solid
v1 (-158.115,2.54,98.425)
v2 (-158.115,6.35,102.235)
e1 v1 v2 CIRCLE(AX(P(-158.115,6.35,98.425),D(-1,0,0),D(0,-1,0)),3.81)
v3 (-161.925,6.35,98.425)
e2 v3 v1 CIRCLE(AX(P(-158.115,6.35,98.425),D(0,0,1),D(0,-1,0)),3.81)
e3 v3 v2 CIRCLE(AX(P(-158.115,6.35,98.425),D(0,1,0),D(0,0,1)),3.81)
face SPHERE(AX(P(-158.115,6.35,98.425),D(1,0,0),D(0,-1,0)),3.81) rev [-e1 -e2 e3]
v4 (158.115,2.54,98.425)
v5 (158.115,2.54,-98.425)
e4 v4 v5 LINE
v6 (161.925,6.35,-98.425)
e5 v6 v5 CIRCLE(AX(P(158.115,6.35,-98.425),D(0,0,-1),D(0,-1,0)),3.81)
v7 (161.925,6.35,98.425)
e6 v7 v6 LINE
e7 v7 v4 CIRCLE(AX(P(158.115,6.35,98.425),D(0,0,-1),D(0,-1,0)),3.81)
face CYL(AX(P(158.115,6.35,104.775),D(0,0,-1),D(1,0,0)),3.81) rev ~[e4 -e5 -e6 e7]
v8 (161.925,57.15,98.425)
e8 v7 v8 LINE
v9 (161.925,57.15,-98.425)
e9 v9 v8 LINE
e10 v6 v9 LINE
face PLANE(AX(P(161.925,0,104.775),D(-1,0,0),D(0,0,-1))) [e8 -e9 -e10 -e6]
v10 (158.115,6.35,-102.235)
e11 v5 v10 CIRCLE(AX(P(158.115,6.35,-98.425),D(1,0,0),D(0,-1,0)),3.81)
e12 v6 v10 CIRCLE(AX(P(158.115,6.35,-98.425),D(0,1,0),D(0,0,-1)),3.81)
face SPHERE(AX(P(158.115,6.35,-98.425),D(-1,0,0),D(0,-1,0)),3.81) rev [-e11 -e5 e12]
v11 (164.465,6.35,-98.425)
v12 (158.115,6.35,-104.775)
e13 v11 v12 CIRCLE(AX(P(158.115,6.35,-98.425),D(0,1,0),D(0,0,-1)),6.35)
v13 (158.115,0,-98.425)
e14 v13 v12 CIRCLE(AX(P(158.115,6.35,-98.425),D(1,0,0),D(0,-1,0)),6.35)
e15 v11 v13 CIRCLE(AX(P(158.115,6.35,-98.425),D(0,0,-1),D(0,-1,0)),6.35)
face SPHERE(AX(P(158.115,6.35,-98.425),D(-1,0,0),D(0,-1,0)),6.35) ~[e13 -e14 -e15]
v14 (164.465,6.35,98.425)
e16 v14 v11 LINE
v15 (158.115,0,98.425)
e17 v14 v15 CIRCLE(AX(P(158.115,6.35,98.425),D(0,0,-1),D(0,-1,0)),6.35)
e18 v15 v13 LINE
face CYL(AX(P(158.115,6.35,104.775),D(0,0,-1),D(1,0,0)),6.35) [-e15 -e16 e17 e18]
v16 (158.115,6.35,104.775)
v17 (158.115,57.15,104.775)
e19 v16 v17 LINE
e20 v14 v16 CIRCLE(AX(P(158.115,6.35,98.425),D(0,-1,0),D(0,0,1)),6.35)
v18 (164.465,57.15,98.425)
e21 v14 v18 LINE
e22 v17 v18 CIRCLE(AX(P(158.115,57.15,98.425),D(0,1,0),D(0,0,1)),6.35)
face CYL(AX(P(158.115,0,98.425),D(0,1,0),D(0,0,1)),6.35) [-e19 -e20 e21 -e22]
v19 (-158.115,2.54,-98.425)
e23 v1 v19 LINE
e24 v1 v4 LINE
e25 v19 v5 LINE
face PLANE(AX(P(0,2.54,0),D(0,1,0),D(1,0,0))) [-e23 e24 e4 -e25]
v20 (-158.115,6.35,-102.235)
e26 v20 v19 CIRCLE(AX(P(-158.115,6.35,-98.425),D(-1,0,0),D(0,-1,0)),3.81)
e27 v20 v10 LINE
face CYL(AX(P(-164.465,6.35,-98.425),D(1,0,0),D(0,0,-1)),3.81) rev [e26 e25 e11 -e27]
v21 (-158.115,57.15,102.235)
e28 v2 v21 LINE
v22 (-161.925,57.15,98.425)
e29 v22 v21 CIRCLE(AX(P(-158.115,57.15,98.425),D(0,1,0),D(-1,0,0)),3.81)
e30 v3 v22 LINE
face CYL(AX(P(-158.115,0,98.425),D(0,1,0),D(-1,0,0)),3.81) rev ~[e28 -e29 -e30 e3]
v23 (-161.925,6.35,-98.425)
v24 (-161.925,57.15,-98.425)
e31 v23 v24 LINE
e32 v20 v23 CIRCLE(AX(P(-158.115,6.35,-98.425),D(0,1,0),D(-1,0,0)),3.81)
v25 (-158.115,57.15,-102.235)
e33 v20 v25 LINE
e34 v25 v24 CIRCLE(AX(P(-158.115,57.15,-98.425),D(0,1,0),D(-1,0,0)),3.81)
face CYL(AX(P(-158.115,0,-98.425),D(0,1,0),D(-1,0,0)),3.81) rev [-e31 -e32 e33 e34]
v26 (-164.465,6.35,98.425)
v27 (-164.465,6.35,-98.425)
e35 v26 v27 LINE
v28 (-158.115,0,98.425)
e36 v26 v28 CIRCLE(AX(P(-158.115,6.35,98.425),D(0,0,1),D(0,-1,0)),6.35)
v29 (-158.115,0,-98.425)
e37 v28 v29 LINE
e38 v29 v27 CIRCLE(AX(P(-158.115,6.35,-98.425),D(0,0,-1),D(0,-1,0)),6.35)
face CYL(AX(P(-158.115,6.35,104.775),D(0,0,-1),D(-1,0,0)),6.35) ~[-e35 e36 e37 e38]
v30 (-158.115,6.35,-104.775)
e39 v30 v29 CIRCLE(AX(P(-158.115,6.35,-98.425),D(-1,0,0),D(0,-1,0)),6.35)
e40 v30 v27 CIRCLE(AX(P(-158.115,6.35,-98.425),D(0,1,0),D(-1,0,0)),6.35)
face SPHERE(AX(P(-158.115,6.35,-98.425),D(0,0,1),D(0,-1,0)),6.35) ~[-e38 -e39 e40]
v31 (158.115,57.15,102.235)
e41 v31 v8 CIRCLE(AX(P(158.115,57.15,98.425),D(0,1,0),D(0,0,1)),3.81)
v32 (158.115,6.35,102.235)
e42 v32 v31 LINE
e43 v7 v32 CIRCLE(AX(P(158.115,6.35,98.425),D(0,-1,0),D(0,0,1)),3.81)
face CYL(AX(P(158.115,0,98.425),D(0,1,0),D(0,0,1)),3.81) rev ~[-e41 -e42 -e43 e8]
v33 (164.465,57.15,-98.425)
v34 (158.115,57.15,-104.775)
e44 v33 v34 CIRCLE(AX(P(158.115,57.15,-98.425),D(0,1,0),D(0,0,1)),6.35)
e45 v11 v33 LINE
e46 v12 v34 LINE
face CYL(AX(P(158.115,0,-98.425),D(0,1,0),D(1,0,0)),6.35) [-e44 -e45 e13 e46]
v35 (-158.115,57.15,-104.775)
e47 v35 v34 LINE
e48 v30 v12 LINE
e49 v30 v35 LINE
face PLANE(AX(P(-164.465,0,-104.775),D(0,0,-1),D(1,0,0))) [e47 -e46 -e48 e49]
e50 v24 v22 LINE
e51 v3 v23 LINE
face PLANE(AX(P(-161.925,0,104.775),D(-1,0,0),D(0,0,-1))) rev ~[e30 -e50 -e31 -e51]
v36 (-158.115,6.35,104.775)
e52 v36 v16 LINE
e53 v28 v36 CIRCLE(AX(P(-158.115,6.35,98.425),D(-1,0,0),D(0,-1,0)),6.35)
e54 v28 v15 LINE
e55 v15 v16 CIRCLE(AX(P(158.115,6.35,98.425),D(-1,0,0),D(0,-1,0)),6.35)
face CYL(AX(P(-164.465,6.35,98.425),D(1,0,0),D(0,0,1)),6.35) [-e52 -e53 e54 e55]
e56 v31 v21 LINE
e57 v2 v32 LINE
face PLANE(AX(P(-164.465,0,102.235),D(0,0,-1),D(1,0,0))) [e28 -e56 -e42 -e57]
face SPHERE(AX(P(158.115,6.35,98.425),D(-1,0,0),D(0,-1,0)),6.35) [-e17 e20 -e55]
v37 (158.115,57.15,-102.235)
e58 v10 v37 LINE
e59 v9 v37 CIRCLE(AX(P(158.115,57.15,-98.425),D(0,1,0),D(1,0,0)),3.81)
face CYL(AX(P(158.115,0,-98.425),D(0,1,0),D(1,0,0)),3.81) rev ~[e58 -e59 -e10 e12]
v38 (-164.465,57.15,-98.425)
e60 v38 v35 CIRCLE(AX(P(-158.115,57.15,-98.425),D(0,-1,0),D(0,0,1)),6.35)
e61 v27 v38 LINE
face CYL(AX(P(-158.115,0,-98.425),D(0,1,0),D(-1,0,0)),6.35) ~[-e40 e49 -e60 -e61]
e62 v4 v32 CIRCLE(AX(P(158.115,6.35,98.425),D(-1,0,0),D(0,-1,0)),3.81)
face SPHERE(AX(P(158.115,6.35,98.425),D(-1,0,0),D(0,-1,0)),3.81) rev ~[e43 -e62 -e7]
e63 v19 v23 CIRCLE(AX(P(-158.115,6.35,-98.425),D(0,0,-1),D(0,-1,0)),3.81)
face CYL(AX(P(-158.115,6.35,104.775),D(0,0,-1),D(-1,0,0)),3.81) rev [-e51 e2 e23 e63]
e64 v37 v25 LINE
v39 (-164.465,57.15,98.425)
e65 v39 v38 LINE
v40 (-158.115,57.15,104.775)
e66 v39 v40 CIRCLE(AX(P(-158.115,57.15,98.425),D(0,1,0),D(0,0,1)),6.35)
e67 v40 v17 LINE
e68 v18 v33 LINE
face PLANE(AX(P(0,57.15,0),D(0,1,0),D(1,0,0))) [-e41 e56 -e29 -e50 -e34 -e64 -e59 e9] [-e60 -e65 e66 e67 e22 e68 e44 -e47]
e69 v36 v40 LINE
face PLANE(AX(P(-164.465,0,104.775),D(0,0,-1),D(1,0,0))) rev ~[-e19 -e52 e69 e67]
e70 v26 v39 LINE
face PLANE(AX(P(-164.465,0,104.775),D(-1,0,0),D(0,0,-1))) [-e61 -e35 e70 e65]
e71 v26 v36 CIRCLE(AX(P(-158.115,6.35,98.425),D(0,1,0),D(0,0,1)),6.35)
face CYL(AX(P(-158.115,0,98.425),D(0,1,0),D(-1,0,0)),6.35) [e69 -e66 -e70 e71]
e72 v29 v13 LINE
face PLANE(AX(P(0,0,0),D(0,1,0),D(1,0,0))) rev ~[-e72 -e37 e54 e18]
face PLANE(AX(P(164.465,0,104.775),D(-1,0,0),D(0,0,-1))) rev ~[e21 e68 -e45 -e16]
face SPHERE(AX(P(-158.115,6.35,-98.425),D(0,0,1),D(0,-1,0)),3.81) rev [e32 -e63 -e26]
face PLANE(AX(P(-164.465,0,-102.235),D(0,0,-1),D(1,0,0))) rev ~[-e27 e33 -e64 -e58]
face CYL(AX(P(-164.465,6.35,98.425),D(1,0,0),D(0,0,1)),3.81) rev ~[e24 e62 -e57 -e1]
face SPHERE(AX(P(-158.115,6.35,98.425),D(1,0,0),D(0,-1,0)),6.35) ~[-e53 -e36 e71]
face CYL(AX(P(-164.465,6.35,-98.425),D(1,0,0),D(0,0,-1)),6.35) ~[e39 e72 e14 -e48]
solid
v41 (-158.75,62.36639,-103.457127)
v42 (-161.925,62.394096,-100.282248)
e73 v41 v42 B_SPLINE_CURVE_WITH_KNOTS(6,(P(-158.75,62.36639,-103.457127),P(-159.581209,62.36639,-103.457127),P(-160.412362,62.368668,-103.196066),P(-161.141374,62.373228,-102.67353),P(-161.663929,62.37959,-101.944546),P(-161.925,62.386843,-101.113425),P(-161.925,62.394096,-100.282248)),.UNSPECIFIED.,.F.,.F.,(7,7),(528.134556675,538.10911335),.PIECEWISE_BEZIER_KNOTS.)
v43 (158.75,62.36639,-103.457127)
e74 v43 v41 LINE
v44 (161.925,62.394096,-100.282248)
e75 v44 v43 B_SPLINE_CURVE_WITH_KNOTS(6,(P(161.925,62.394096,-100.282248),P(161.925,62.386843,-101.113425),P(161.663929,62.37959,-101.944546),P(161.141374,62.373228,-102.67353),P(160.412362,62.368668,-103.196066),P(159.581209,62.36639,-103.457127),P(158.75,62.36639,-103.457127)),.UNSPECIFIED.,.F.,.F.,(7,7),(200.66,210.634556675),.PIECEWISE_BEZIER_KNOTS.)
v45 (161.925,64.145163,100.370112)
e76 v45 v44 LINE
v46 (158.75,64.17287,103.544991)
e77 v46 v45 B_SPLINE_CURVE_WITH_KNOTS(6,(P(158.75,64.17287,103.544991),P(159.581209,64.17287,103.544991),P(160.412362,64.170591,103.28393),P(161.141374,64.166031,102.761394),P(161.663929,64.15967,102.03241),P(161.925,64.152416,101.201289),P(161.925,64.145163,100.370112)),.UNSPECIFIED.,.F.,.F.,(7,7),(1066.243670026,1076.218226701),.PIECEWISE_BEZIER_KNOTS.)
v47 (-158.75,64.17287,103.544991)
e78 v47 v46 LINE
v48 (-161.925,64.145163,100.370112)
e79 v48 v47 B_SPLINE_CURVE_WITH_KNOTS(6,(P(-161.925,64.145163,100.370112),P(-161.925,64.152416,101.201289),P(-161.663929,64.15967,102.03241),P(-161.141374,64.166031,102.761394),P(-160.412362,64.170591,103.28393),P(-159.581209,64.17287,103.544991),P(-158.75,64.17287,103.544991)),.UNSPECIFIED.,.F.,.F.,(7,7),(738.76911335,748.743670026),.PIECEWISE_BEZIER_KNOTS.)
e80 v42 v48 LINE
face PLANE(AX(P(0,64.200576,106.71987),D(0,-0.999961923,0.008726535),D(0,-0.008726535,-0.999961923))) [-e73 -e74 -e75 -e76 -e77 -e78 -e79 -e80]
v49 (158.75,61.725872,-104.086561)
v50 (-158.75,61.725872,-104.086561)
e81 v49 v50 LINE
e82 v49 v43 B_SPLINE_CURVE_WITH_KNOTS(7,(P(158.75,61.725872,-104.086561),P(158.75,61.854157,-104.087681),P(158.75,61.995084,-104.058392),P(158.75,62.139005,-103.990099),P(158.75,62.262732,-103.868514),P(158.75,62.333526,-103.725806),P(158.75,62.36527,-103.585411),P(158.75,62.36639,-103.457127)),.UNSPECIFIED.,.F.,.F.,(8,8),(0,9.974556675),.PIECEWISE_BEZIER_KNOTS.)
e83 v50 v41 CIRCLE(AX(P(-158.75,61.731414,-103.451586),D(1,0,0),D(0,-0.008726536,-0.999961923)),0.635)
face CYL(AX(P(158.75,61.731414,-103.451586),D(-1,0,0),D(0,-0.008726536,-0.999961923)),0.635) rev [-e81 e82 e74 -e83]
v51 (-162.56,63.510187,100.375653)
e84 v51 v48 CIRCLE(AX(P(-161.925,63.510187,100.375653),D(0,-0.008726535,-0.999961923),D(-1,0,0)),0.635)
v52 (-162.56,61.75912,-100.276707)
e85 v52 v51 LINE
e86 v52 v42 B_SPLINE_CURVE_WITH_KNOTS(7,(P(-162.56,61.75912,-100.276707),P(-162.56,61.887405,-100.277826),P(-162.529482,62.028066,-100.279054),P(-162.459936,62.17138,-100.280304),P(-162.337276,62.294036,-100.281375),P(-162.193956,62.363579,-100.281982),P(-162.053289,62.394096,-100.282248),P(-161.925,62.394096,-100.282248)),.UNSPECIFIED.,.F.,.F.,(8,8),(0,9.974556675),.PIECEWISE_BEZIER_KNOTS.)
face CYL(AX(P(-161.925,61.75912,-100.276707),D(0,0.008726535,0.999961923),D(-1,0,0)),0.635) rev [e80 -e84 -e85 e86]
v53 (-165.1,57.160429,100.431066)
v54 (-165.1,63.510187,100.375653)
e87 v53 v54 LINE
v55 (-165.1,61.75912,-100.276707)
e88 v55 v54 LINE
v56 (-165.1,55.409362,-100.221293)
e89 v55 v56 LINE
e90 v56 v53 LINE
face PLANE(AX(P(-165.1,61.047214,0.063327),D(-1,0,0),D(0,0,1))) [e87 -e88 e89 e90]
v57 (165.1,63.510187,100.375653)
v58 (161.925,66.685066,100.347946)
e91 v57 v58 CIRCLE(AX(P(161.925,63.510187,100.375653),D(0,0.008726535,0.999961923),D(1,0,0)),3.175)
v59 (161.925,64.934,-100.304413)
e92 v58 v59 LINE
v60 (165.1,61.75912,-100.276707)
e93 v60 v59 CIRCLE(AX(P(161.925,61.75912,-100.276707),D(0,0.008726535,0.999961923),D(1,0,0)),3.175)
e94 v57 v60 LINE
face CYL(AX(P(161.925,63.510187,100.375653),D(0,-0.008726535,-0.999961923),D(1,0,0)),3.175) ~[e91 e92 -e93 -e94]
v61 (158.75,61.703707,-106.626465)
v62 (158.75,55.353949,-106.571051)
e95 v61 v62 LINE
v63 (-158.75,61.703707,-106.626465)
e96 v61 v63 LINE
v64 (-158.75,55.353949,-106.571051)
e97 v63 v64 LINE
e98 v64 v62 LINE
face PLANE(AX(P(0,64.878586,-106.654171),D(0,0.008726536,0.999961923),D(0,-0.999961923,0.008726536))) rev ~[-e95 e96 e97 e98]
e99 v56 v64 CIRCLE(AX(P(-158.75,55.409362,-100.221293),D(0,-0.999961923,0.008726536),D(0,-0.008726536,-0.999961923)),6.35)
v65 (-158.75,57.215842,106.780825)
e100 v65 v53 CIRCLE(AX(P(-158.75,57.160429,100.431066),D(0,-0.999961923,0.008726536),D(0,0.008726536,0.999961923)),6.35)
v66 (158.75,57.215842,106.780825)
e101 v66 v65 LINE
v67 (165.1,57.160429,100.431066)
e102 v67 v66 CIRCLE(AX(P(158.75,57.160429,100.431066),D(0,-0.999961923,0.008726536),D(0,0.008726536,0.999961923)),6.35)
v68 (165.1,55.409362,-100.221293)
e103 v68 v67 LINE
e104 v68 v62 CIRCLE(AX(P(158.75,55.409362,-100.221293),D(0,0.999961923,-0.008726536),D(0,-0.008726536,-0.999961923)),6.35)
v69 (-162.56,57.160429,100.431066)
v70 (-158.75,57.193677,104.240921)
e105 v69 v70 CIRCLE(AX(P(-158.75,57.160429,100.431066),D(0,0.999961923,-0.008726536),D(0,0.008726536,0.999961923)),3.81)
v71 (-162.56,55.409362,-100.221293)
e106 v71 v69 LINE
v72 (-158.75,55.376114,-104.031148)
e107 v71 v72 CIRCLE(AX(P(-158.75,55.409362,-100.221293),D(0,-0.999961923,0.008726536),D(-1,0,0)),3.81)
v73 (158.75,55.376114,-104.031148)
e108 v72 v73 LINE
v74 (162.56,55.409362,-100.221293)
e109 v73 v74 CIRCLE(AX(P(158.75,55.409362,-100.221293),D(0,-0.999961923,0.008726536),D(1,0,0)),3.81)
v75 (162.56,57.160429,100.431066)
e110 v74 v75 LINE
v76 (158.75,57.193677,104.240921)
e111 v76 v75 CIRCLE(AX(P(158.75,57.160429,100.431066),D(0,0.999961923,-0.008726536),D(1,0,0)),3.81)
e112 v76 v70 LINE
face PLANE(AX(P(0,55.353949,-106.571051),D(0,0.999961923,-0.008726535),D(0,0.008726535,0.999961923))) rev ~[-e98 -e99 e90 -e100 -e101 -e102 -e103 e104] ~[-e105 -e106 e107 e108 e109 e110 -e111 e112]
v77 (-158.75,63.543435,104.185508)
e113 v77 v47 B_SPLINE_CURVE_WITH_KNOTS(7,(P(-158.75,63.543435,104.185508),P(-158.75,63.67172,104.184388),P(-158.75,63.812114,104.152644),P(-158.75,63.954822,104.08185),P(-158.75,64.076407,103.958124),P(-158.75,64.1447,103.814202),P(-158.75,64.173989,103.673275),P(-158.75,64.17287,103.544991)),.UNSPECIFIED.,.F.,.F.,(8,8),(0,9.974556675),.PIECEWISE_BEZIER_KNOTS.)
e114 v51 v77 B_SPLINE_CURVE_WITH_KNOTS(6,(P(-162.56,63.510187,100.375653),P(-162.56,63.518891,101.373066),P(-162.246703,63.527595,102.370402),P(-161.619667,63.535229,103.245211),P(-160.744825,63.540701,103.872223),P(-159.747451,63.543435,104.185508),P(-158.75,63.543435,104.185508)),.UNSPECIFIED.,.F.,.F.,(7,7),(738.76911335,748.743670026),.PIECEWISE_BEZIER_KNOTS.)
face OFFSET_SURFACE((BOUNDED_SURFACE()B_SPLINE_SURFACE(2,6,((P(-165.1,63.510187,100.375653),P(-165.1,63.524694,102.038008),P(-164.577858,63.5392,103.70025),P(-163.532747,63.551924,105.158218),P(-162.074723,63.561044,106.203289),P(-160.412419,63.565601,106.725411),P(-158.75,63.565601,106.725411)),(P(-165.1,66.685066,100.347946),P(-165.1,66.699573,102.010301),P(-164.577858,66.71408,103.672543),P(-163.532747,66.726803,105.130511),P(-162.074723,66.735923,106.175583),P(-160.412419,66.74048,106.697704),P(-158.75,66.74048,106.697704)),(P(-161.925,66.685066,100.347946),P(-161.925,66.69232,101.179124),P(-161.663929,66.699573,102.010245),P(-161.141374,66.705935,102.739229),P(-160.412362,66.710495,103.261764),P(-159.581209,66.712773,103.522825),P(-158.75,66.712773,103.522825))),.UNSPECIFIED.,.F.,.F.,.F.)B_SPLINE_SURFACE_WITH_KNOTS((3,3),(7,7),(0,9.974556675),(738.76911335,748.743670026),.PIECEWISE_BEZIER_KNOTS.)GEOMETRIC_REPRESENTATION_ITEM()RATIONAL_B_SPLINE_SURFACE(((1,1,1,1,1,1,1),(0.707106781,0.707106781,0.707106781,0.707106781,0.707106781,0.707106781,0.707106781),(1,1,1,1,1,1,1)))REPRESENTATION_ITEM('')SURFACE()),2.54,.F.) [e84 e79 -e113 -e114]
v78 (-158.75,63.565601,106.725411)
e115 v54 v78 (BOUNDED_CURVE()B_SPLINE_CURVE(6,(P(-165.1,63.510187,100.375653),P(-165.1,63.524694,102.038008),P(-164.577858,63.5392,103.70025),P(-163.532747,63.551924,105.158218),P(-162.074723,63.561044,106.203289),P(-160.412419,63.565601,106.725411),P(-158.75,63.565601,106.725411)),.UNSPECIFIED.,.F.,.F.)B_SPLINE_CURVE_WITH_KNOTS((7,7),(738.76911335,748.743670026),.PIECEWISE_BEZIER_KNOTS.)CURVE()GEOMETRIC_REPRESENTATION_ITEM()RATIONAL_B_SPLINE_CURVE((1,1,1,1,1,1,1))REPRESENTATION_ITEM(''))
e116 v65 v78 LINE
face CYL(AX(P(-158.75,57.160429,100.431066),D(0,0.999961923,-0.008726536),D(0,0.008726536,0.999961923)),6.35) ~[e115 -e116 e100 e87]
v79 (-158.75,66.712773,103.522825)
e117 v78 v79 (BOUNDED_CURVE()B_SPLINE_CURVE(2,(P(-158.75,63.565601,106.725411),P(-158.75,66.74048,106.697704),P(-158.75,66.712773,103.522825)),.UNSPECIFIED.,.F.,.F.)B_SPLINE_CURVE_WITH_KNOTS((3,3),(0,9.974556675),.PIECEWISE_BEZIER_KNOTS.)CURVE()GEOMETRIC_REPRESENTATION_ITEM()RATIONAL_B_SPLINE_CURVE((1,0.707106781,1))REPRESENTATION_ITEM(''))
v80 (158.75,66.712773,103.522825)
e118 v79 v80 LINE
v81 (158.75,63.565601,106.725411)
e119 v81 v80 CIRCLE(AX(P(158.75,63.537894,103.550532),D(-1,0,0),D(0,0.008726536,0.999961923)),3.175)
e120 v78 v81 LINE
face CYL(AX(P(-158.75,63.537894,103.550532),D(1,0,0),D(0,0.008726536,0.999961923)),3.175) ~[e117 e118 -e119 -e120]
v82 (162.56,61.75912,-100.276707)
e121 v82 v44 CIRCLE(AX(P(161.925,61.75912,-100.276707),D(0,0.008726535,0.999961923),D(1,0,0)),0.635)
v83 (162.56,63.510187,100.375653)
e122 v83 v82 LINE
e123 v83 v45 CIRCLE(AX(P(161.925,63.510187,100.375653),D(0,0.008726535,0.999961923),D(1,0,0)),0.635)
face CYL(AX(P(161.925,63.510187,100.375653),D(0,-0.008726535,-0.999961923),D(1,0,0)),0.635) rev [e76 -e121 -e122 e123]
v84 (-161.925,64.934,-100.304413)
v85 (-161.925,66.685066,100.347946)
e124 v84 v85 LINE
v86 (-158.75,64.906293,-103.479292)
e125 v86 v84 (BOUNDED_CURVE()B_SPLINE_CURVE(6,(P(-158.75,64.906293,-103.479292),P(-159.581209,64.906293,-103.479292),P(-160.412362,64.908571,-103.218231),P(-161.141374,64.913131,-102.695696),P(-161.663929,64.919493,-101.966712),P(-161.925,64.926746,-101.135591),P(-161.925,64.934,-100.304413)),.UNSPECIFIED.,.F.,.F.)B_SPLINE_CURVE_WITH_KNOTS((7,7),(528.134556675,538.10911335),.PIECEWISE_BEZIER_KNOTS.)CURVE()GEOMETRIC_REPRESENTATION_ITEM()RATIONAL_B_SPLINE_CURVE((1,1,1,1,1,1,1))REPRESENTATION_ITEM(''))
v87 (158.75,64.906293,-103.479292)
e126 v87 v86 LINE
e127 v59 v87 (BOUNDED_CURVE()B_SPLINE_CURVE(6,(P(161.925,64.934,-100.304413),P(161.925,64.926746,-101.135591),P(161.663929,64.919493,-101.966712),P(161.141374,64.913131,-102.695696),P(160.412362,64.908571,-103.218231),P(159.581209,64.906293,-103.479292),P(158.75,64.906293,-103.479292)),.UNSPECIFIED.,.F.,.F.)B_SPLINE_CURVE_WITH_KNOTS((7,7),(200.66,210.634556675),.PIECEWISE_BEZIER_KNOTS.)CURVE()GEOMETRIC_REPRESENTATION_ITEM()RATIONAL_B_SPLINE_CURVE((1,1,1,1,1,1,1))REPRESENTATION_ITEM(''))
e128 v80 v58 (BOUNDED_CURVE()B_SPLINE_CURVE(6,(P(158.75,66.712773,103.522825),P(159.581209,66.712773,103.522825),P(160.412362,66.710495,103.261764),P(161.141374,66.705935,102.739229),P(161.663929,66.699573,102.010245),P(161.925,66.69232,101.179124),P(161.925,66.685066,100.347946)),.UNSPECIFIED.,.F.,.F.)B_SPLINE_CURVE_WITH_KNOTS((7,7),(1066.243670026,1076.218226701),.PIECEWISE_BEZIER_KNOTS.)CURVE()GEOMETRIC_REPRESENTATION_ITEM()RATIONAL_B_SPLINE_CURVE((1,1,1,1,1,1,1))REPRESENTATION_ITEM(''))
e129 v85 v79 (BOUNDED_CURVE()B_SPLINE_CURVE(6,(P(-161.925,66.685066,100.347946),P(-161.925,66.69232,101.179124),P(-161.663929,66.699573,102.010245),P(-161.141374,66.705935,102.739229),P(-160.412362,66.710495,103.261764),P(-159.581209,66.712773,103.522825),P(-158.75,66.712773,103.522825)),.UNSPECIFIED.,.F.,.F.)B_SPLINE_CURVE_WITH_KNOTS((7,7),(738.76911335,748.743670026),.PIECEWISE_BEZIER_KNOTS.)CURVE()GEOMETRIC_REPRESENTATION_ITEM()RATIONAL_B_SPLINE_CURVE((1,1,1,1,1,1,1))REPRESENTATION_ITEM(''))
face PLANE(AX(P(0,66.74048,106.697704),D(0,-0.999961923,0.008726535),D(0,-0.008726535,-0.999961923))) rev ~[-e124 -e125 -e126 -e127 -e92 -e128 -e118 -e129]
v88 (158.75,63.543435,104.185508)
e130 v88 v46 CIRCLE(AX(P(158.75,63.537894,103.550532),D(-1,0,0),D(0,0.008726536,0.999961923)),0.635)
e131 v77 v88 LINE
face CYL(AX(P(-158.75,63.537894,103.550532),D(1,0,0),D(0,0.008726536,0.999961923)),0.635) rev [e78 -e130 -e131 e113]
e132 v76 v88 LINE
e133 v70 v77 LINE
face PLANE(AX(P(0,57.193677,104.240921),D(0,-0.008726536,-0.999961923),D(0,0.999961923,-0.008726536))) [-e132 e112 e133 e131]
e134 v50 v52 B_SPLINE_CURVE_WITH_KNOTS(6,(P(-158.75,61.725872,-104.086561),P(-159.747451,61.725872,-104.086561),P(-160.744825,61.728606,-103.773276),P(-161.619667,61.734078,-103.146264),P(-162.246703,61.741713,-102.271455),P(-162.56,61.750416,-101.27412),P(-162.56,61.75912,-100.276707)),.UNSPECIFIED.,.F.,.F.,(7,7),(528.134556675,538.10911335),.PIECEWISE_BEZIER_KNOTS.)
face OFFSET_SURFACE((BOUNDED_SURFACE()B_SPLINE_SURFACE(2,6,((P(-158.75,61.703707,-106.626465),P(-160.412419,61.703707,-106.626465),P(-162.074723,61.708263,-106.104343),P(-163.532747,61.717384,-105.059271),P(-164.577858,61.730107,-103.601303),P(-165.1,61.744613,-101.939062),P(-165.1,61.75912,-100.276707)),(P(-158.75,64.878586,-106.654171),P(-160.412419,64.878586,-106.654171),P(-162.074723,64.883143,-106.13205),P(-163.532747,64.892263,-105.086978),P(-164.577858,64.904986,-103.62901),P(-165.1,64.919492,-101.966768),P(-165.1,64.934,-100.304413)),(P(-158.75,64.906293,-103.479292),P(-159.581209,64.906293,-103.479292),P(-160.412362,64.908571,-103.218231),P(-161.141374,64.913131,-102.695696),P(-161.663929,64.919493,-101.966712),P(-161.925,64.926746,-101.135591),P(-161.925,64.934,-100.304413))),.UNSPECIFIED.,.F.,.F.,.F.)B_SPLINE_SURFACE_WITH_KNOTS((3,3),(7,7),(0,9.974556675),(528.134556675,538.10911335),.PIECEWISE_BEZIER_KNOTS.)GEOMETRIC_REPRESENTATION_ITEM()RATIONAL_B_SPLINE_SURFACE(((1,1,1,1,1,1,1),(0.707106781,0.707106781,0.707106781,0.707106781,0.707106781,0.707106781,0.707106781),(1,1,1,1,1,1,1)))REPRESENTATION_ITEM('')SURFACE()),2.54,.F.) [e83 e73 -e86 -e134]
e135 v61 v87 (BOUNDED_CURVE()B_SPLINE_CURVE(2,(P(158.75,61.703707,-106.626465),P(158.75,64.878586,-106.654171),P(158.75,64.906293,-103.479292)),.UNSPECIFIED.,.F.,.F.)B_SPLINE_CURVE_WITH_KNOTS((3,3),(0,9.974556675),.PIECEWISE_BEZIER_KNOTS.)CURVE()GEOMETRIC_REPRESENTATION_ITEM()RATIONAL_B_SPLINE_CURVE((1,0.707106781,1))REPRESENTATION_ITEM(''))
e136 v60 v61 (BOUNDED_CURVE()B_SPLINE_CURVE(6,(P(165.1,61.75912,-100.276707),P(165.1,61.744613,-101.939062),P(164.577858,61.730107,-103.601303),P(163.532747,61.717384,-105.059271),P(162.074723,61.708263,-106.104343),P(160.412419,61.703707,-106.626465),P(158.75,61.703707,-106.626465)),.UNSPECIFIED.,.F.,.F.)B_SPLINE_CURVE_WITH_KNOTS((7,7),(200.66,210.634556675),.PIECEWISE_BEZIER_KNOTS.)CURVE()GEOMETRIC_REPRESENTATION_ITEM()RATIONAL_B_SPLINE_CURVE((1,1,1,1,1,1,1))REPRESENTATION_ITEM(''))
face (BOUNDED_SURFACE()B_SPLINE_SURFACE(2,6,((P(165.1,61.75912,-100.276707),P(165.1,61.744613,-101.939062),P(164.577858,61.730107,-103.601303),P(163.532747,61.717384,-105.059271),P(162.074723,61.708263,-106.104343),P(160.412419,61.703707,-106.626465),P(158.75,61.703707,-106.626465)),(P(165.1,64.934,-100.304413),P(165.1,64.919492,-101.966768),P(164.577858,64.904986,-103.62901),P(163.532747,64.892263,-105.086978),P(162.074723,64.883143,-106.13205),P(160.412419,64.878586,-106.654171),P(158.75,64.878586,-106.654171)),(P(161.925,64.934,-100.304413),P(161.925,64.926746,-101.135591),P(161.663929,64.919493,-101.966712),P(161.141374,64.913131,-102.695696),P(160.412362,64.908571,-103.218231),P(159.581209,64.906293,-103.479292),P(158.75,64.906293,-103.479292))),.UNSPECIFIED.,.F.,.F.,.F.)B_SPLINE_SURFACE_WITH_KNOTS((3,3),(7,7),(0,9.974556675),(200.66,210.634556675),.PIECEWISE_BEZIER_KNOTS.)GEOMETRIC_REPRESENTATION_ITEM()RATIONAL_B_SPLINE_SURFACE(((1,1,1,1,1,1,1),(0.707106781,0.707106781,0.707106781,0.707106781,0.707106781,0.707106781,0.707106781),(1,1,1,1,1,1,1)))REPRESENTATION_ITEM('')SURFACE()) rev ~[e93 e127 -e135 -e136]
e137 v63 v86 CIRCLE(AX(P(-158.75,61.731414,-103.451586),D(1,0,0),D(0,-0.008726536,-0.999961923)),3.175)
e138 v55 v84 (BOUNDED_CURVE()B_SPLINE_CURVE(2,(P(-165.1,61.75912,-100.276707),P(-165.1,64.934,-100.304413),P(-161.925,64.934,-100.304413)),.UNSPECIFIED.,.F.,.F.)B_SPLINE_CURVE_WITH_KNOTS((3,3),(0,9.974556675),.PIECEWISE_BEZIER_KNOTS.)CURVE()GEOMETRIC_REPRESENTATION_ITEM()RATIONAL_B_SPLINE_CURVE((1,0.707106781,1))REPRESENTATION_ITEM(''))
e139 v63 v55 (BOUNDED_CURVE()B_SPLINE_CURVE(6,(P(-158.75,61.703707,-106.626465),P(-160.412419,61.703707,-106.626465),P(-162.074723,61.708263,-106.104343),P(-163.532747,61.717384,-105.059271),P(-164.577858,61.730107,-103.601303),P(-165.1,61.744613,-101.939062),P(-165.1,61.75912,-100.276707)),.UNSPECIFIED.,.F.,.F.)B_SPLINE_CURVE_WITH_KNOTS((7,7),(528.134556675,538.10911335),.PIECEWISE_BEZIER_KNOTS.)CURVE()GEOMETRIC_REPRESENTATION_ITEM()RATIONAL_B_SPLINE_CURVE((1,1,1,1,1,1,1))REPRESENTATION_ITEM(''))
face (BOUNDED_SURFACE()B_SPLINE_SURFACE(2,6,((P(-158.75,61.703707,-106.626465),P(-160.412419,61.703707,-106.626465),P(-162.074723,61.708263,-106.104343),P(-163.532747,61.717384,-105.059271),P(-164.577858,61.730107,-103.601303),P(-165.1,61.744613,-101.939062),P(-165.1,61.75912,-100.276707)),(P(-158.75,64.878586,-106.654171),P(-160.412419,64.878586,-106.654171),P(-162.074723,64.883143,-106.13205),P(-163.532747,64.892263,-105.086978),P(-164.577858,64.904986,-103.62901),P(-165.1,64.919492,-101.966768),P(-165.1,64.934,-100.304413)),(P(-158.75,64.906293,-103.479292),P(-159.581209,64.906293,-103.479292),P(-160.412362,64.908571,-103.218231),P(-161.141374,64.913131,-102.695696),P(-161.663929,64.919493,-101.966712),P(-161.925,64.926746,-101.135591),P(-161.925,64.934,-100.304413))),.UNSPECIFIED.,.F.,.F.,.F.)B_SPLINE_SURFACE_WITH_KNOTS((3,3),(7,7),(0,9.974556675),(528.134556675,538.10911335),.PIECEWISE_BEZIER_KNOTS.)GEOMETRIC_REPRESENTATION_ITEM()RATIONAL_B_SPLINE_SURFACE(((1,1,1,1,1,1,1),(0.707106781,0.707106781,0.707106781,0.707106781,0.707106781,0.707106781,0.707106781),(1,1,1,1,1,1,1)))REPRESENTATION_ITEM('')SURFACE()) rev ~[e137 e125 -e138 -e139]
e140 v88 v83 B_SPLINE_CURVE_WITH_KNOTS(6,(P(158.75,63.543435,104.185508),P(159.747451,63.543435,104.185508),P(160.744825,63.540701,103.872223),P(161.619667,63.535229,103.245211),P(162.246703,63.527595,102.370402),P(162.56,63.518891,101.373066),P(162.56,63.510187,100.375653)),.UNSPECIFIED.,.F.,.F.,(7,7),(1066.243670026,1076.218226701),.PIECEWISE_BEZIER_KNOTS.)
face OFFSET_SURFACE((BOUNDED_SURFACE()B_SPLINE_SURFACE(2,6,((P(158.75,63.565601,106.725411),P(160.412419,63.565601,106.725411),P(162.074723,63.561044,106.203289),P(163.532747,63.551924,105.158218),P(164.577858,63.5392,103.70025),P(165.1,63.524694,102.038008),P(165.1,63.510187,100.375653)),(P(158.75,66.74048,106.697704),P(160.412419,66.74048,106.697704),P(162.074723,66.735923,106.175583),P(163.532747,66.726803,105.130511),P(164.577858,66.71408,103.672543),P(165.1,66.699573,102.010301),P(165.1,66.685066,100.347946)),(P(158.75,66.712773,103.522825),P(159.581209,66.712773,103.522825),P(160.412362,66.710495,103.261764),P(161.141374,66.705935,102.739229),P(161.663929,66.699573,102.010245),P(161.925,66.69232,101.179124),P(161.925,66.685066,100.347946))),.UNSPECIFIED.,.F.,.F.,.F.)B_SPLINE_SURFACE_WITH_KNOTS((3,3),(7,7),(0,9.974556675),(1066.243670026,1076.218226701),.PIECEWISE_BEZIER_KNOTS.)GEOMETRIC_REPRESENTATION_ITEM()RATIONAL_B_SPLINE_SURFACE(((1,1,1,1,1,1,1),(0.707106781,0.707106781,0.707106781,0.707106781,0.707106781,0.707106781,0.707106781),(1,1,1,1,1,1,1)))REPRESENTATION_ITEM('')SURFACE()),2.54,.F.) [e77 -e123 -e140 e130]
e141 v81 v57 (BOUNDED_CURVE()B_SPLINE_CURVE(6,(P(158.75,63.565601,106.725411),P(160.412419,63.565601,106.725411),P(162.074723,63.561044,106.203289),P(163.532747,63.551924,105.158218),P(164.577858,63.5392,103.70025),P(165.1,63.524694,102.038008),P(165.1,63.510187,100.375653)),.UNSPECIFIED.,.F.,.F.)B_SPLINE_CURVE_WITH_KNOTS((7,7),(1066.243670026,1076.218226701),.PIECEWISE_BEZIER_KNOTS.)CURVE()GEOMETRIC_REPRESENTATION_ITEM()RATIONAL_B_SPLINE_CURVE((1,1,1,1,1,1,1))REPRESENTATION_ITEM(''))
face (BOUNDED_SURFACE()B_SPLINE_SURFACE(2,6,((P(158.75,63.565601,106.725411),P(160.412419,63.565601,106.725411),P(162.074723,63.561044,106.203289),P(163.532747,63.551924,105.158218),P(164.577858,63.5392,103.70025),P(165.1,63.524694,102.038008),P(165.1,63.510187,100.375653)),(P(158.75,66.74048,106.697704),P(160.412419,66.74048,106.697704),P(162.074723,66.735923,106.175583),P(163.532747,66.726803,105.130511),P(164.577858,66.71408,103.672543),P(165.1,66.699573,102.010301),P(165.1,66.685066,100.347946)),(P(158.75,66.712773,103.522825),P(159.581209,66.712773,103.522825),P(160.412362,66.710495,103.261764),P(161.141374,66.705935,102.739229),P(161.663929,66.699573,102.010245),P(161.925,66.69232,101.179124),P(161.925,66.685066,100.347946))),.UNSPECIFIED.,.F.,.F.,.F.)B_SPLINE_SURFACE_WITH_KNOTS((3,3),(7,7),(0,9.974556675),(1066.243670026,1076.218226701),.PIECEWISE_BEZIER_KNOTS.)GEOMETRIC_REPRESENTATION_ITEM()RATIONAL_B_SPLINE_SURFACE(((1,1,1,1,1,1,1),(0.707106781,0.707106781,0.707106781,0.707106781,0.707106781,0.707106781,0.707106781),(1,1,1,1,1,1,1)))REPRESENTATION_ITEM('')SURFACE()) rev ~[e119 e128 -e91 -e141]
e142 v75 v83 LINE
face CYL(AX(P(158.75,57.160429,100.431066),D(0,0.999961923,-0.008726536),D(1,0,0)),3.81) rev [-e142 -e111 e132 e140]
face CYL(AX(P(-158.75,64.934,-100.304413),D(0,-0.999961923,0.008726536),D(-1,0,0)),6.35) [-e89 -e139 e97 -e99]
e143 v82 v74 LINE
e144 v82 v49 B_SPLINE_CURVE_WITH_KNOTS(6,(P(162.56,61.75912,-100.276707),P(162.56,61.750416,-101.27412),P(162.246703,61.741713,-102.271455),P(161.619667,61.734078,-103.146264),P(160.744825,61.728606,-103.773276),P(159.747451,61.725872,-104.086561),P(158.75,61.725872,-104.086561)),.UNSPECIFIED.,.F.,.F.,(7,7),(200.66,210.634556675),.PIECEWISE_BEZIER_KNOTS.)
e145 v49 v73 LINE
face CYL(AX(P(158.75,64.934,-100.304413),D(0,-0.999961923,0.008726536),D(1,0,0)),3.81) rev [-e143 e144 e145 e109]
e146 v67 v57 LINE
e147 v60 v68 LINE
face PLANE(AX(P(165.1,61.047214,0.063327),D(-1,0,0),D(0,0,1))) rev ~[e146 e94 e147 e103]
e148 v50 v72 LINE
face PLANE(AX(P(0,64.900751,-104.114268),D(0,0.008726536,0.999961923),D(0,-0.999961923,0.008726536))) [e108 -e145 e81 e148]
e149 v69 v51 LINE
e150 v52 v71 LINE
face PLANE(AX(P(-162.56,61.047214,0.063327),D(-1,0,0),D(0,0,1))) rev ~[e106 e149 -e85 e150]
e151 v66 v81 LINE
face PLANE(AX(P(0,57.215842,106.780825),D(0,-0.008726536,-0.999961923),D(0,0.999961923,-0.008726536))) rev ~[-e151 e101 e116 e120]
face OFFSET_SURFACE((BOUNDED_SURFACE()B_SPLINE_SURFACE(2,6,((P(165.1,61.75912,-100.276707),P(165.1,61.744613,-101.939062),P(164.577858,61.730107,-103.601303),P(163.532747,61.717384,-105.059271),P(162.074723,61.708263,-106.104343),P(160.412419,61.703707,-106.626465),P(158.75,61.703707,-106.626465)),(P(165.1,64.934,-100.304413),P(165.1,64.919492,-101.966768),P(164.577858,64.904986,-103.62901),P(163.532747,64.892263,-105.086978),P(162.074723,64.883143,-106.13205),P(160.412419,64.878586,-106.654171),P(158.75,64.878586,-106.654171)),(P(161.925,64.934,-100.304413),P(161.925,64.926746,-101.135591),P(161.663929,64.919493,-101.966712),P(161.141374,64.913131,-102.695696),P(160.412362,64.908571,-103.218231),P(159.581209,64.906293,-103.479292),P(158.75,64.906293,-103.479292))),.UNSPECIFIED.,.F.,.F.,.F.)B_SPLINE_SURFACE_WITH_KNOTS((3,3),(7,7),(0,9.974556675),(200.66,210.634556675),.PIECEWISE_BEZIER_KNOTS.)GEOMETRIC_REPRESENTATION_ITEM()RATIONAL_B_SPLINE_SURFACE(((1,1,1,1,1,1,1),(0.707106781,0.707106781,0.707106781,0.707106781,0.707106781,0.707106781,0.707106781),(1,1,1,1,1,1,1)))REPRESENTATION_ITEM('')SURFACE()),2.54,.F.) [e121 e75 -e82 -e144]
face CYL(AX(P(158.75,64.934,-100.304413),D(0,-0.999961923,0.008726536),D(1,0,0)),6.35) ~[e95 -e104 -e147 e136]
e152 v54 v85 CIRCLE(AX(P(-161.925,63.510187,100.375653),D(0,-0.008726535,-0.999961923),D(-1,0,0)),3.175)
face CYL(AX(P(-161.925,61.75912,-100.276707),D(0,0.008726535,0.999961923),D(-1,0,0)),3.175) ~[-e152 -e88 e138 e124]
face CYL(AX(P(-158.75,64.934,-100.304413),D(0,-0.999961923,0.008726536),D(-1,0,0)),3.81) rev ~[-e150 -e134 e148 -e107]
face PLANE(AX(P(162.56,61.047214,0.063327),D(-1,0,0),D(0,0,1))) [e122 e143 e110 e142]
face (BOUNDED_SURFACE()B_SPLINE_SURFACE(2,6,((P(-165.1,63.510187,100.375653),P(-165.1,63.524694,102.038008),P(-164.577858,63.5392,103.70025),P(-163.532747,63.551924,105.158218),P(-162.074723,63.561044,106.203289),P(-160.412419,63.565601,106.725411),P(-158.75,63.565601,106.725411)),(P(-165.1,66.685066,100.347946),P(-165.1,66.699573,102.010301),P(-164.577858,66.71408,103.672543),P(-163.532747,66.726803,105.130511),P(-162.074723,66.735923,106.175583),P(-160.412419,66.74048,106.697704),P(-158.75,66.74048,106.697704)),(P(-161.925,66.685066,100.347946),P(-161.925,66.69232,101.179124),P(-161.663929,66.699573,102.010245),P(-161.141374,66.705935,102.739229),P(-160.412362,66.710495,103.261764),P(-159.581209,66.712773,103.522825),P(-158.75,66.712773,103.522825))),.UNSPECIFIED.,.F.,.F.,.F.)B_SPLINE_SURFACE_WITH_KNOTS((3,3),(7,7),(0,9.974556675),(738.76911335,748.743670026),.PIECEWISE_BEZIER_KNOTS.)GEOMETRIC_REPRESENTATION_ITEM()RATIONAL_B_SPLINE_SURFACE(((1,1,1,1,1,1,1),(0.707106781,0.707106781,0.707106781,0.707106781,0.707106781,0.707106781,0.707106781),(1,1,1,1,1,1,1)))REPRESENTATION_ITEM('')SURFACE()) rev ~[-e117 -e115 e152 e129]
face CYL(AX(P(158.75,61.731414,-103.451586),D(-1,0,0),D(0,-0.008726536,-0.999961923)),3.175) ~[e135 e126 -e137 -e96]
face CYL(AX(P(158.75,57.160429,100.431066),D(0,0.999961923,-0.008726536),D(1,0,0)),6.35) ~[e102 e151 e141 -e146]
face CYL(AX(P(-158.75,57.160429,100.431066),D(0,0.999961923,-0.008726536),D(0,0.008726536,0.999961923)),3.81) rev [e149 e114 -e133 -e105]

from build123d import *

# Parameters (mm, degrees)
SKETCH1_W                       = 328.93
SKETCH1_H                       = 209.55
BOSS_EXTRUDE1_DEPTH             = 57.15
FILLET1_R                       = 6.35
SHELL1_T                        = -2.54
LID_OPENING_ANGLE_CONTROL_DEPTH = 165.1
FILLET2_R                       = 6.35
FILLET3_R                       = 3.175
SHELL2_T                        = -2.54


with BuildPart() as part:
    # Sketch1 → Boss-Extrude1 (new body)
    with BuildSketch(Plane(origin=(0, 0, 0), x_dir=(1, 0, 0), z_dir=(0, 1, 0))):
        Rectangle(SKETCH1_W, SKETCH1_H)
    extrude(amount=BOSS_EXTRUDE1_DEPTH)

    # Fillet1
    fillet1_edges = [part.edges().sort_by_distance(p)[0] for p in [
        (0, 0, 104.775),
        (-164.465, 0, 0),
        (0, 0, -104.775),
        (164.465, 0, 0),
        (164.465, 28.575, 104.775),
        (-164.465, 28.575, 104.775),
        (-164.465, 28.575, -104.775),
        (164.465, 28.575, -104.775),
    ]]
    fillet(fillet1_edges, radius=FILLET1_R)

    # Shell1
    shell1_openings = [part.faces().sort_by_distance(p)[0] for p in [
        (0, 57.15, 0),
    ]]
    offset(amount=SHELL1_T, openings=shell1_openings, kind=Kind.INTERSECTION)


with BuildPart() as body_2:
    # Sketch2 → LID OPENING ANGLE CONTROL (new, symmetric)
    with BuildSketch(Plane(origin=(0, 0, 0), x_dir=(0, 0, -1), z_dir=(1, 0, 0))):
        Polygon((106.571051224, 55.353948776), (-106.780824681, 57.21584239), (-106.69770443, 66.740479707), (106.654171475, 64.878586093), align=None)
    extrude(amount=LID_OPENING_ANGLE_CONTROL_DEPTH, both=True)

    # Fillet2
    fillet2_edges = [body_2.edges().sort_by_distance(p)[0] for p in [
        (165.1, 61.978161048, 106.739264555),
        (165.1, 60.116267434, -106.61261135),
        (-165.1, 61.978161048, 106.739264555),
        (-165.1, 60.116267434, -106.61261135),
    ]]
    fillet(fillet2_edges, radius=FILLET2_R)

    # Fillet3
    fillet3_edges = [body_2.edges().sort_by_distance(p)[0] for p in [
        (165.1, 65.8095329, 0.021766478),
        (-165.1, 65.8095329, 0.021766478),
        (0, 66.740479707, 106.69770443),
        (0, 64.878586093, -106.654171475),
        (-163.240128061, 66.724249468, 104.837903309),
        (163.240128061, 66.724249468, 104.837903309),
        (-163.240128061, 64.894816331, -104.794370354),
        (163.240128061, 64.894816331, -104.794370354),
    ]]
    fillet(fillet3_edges, radius=FILLET3_R)

    # Shell2
    shell2_openings = [body_2.faces().sort_by_distance(p)[0] for p in [
        (0, 56.284895583, 0.104886728),
    ]]
    offset(amount=SHELL2_T, openings=shell2_openings, kind=Kind.INTERSECTION)


solid = Compound([part.part, body_2.part])
